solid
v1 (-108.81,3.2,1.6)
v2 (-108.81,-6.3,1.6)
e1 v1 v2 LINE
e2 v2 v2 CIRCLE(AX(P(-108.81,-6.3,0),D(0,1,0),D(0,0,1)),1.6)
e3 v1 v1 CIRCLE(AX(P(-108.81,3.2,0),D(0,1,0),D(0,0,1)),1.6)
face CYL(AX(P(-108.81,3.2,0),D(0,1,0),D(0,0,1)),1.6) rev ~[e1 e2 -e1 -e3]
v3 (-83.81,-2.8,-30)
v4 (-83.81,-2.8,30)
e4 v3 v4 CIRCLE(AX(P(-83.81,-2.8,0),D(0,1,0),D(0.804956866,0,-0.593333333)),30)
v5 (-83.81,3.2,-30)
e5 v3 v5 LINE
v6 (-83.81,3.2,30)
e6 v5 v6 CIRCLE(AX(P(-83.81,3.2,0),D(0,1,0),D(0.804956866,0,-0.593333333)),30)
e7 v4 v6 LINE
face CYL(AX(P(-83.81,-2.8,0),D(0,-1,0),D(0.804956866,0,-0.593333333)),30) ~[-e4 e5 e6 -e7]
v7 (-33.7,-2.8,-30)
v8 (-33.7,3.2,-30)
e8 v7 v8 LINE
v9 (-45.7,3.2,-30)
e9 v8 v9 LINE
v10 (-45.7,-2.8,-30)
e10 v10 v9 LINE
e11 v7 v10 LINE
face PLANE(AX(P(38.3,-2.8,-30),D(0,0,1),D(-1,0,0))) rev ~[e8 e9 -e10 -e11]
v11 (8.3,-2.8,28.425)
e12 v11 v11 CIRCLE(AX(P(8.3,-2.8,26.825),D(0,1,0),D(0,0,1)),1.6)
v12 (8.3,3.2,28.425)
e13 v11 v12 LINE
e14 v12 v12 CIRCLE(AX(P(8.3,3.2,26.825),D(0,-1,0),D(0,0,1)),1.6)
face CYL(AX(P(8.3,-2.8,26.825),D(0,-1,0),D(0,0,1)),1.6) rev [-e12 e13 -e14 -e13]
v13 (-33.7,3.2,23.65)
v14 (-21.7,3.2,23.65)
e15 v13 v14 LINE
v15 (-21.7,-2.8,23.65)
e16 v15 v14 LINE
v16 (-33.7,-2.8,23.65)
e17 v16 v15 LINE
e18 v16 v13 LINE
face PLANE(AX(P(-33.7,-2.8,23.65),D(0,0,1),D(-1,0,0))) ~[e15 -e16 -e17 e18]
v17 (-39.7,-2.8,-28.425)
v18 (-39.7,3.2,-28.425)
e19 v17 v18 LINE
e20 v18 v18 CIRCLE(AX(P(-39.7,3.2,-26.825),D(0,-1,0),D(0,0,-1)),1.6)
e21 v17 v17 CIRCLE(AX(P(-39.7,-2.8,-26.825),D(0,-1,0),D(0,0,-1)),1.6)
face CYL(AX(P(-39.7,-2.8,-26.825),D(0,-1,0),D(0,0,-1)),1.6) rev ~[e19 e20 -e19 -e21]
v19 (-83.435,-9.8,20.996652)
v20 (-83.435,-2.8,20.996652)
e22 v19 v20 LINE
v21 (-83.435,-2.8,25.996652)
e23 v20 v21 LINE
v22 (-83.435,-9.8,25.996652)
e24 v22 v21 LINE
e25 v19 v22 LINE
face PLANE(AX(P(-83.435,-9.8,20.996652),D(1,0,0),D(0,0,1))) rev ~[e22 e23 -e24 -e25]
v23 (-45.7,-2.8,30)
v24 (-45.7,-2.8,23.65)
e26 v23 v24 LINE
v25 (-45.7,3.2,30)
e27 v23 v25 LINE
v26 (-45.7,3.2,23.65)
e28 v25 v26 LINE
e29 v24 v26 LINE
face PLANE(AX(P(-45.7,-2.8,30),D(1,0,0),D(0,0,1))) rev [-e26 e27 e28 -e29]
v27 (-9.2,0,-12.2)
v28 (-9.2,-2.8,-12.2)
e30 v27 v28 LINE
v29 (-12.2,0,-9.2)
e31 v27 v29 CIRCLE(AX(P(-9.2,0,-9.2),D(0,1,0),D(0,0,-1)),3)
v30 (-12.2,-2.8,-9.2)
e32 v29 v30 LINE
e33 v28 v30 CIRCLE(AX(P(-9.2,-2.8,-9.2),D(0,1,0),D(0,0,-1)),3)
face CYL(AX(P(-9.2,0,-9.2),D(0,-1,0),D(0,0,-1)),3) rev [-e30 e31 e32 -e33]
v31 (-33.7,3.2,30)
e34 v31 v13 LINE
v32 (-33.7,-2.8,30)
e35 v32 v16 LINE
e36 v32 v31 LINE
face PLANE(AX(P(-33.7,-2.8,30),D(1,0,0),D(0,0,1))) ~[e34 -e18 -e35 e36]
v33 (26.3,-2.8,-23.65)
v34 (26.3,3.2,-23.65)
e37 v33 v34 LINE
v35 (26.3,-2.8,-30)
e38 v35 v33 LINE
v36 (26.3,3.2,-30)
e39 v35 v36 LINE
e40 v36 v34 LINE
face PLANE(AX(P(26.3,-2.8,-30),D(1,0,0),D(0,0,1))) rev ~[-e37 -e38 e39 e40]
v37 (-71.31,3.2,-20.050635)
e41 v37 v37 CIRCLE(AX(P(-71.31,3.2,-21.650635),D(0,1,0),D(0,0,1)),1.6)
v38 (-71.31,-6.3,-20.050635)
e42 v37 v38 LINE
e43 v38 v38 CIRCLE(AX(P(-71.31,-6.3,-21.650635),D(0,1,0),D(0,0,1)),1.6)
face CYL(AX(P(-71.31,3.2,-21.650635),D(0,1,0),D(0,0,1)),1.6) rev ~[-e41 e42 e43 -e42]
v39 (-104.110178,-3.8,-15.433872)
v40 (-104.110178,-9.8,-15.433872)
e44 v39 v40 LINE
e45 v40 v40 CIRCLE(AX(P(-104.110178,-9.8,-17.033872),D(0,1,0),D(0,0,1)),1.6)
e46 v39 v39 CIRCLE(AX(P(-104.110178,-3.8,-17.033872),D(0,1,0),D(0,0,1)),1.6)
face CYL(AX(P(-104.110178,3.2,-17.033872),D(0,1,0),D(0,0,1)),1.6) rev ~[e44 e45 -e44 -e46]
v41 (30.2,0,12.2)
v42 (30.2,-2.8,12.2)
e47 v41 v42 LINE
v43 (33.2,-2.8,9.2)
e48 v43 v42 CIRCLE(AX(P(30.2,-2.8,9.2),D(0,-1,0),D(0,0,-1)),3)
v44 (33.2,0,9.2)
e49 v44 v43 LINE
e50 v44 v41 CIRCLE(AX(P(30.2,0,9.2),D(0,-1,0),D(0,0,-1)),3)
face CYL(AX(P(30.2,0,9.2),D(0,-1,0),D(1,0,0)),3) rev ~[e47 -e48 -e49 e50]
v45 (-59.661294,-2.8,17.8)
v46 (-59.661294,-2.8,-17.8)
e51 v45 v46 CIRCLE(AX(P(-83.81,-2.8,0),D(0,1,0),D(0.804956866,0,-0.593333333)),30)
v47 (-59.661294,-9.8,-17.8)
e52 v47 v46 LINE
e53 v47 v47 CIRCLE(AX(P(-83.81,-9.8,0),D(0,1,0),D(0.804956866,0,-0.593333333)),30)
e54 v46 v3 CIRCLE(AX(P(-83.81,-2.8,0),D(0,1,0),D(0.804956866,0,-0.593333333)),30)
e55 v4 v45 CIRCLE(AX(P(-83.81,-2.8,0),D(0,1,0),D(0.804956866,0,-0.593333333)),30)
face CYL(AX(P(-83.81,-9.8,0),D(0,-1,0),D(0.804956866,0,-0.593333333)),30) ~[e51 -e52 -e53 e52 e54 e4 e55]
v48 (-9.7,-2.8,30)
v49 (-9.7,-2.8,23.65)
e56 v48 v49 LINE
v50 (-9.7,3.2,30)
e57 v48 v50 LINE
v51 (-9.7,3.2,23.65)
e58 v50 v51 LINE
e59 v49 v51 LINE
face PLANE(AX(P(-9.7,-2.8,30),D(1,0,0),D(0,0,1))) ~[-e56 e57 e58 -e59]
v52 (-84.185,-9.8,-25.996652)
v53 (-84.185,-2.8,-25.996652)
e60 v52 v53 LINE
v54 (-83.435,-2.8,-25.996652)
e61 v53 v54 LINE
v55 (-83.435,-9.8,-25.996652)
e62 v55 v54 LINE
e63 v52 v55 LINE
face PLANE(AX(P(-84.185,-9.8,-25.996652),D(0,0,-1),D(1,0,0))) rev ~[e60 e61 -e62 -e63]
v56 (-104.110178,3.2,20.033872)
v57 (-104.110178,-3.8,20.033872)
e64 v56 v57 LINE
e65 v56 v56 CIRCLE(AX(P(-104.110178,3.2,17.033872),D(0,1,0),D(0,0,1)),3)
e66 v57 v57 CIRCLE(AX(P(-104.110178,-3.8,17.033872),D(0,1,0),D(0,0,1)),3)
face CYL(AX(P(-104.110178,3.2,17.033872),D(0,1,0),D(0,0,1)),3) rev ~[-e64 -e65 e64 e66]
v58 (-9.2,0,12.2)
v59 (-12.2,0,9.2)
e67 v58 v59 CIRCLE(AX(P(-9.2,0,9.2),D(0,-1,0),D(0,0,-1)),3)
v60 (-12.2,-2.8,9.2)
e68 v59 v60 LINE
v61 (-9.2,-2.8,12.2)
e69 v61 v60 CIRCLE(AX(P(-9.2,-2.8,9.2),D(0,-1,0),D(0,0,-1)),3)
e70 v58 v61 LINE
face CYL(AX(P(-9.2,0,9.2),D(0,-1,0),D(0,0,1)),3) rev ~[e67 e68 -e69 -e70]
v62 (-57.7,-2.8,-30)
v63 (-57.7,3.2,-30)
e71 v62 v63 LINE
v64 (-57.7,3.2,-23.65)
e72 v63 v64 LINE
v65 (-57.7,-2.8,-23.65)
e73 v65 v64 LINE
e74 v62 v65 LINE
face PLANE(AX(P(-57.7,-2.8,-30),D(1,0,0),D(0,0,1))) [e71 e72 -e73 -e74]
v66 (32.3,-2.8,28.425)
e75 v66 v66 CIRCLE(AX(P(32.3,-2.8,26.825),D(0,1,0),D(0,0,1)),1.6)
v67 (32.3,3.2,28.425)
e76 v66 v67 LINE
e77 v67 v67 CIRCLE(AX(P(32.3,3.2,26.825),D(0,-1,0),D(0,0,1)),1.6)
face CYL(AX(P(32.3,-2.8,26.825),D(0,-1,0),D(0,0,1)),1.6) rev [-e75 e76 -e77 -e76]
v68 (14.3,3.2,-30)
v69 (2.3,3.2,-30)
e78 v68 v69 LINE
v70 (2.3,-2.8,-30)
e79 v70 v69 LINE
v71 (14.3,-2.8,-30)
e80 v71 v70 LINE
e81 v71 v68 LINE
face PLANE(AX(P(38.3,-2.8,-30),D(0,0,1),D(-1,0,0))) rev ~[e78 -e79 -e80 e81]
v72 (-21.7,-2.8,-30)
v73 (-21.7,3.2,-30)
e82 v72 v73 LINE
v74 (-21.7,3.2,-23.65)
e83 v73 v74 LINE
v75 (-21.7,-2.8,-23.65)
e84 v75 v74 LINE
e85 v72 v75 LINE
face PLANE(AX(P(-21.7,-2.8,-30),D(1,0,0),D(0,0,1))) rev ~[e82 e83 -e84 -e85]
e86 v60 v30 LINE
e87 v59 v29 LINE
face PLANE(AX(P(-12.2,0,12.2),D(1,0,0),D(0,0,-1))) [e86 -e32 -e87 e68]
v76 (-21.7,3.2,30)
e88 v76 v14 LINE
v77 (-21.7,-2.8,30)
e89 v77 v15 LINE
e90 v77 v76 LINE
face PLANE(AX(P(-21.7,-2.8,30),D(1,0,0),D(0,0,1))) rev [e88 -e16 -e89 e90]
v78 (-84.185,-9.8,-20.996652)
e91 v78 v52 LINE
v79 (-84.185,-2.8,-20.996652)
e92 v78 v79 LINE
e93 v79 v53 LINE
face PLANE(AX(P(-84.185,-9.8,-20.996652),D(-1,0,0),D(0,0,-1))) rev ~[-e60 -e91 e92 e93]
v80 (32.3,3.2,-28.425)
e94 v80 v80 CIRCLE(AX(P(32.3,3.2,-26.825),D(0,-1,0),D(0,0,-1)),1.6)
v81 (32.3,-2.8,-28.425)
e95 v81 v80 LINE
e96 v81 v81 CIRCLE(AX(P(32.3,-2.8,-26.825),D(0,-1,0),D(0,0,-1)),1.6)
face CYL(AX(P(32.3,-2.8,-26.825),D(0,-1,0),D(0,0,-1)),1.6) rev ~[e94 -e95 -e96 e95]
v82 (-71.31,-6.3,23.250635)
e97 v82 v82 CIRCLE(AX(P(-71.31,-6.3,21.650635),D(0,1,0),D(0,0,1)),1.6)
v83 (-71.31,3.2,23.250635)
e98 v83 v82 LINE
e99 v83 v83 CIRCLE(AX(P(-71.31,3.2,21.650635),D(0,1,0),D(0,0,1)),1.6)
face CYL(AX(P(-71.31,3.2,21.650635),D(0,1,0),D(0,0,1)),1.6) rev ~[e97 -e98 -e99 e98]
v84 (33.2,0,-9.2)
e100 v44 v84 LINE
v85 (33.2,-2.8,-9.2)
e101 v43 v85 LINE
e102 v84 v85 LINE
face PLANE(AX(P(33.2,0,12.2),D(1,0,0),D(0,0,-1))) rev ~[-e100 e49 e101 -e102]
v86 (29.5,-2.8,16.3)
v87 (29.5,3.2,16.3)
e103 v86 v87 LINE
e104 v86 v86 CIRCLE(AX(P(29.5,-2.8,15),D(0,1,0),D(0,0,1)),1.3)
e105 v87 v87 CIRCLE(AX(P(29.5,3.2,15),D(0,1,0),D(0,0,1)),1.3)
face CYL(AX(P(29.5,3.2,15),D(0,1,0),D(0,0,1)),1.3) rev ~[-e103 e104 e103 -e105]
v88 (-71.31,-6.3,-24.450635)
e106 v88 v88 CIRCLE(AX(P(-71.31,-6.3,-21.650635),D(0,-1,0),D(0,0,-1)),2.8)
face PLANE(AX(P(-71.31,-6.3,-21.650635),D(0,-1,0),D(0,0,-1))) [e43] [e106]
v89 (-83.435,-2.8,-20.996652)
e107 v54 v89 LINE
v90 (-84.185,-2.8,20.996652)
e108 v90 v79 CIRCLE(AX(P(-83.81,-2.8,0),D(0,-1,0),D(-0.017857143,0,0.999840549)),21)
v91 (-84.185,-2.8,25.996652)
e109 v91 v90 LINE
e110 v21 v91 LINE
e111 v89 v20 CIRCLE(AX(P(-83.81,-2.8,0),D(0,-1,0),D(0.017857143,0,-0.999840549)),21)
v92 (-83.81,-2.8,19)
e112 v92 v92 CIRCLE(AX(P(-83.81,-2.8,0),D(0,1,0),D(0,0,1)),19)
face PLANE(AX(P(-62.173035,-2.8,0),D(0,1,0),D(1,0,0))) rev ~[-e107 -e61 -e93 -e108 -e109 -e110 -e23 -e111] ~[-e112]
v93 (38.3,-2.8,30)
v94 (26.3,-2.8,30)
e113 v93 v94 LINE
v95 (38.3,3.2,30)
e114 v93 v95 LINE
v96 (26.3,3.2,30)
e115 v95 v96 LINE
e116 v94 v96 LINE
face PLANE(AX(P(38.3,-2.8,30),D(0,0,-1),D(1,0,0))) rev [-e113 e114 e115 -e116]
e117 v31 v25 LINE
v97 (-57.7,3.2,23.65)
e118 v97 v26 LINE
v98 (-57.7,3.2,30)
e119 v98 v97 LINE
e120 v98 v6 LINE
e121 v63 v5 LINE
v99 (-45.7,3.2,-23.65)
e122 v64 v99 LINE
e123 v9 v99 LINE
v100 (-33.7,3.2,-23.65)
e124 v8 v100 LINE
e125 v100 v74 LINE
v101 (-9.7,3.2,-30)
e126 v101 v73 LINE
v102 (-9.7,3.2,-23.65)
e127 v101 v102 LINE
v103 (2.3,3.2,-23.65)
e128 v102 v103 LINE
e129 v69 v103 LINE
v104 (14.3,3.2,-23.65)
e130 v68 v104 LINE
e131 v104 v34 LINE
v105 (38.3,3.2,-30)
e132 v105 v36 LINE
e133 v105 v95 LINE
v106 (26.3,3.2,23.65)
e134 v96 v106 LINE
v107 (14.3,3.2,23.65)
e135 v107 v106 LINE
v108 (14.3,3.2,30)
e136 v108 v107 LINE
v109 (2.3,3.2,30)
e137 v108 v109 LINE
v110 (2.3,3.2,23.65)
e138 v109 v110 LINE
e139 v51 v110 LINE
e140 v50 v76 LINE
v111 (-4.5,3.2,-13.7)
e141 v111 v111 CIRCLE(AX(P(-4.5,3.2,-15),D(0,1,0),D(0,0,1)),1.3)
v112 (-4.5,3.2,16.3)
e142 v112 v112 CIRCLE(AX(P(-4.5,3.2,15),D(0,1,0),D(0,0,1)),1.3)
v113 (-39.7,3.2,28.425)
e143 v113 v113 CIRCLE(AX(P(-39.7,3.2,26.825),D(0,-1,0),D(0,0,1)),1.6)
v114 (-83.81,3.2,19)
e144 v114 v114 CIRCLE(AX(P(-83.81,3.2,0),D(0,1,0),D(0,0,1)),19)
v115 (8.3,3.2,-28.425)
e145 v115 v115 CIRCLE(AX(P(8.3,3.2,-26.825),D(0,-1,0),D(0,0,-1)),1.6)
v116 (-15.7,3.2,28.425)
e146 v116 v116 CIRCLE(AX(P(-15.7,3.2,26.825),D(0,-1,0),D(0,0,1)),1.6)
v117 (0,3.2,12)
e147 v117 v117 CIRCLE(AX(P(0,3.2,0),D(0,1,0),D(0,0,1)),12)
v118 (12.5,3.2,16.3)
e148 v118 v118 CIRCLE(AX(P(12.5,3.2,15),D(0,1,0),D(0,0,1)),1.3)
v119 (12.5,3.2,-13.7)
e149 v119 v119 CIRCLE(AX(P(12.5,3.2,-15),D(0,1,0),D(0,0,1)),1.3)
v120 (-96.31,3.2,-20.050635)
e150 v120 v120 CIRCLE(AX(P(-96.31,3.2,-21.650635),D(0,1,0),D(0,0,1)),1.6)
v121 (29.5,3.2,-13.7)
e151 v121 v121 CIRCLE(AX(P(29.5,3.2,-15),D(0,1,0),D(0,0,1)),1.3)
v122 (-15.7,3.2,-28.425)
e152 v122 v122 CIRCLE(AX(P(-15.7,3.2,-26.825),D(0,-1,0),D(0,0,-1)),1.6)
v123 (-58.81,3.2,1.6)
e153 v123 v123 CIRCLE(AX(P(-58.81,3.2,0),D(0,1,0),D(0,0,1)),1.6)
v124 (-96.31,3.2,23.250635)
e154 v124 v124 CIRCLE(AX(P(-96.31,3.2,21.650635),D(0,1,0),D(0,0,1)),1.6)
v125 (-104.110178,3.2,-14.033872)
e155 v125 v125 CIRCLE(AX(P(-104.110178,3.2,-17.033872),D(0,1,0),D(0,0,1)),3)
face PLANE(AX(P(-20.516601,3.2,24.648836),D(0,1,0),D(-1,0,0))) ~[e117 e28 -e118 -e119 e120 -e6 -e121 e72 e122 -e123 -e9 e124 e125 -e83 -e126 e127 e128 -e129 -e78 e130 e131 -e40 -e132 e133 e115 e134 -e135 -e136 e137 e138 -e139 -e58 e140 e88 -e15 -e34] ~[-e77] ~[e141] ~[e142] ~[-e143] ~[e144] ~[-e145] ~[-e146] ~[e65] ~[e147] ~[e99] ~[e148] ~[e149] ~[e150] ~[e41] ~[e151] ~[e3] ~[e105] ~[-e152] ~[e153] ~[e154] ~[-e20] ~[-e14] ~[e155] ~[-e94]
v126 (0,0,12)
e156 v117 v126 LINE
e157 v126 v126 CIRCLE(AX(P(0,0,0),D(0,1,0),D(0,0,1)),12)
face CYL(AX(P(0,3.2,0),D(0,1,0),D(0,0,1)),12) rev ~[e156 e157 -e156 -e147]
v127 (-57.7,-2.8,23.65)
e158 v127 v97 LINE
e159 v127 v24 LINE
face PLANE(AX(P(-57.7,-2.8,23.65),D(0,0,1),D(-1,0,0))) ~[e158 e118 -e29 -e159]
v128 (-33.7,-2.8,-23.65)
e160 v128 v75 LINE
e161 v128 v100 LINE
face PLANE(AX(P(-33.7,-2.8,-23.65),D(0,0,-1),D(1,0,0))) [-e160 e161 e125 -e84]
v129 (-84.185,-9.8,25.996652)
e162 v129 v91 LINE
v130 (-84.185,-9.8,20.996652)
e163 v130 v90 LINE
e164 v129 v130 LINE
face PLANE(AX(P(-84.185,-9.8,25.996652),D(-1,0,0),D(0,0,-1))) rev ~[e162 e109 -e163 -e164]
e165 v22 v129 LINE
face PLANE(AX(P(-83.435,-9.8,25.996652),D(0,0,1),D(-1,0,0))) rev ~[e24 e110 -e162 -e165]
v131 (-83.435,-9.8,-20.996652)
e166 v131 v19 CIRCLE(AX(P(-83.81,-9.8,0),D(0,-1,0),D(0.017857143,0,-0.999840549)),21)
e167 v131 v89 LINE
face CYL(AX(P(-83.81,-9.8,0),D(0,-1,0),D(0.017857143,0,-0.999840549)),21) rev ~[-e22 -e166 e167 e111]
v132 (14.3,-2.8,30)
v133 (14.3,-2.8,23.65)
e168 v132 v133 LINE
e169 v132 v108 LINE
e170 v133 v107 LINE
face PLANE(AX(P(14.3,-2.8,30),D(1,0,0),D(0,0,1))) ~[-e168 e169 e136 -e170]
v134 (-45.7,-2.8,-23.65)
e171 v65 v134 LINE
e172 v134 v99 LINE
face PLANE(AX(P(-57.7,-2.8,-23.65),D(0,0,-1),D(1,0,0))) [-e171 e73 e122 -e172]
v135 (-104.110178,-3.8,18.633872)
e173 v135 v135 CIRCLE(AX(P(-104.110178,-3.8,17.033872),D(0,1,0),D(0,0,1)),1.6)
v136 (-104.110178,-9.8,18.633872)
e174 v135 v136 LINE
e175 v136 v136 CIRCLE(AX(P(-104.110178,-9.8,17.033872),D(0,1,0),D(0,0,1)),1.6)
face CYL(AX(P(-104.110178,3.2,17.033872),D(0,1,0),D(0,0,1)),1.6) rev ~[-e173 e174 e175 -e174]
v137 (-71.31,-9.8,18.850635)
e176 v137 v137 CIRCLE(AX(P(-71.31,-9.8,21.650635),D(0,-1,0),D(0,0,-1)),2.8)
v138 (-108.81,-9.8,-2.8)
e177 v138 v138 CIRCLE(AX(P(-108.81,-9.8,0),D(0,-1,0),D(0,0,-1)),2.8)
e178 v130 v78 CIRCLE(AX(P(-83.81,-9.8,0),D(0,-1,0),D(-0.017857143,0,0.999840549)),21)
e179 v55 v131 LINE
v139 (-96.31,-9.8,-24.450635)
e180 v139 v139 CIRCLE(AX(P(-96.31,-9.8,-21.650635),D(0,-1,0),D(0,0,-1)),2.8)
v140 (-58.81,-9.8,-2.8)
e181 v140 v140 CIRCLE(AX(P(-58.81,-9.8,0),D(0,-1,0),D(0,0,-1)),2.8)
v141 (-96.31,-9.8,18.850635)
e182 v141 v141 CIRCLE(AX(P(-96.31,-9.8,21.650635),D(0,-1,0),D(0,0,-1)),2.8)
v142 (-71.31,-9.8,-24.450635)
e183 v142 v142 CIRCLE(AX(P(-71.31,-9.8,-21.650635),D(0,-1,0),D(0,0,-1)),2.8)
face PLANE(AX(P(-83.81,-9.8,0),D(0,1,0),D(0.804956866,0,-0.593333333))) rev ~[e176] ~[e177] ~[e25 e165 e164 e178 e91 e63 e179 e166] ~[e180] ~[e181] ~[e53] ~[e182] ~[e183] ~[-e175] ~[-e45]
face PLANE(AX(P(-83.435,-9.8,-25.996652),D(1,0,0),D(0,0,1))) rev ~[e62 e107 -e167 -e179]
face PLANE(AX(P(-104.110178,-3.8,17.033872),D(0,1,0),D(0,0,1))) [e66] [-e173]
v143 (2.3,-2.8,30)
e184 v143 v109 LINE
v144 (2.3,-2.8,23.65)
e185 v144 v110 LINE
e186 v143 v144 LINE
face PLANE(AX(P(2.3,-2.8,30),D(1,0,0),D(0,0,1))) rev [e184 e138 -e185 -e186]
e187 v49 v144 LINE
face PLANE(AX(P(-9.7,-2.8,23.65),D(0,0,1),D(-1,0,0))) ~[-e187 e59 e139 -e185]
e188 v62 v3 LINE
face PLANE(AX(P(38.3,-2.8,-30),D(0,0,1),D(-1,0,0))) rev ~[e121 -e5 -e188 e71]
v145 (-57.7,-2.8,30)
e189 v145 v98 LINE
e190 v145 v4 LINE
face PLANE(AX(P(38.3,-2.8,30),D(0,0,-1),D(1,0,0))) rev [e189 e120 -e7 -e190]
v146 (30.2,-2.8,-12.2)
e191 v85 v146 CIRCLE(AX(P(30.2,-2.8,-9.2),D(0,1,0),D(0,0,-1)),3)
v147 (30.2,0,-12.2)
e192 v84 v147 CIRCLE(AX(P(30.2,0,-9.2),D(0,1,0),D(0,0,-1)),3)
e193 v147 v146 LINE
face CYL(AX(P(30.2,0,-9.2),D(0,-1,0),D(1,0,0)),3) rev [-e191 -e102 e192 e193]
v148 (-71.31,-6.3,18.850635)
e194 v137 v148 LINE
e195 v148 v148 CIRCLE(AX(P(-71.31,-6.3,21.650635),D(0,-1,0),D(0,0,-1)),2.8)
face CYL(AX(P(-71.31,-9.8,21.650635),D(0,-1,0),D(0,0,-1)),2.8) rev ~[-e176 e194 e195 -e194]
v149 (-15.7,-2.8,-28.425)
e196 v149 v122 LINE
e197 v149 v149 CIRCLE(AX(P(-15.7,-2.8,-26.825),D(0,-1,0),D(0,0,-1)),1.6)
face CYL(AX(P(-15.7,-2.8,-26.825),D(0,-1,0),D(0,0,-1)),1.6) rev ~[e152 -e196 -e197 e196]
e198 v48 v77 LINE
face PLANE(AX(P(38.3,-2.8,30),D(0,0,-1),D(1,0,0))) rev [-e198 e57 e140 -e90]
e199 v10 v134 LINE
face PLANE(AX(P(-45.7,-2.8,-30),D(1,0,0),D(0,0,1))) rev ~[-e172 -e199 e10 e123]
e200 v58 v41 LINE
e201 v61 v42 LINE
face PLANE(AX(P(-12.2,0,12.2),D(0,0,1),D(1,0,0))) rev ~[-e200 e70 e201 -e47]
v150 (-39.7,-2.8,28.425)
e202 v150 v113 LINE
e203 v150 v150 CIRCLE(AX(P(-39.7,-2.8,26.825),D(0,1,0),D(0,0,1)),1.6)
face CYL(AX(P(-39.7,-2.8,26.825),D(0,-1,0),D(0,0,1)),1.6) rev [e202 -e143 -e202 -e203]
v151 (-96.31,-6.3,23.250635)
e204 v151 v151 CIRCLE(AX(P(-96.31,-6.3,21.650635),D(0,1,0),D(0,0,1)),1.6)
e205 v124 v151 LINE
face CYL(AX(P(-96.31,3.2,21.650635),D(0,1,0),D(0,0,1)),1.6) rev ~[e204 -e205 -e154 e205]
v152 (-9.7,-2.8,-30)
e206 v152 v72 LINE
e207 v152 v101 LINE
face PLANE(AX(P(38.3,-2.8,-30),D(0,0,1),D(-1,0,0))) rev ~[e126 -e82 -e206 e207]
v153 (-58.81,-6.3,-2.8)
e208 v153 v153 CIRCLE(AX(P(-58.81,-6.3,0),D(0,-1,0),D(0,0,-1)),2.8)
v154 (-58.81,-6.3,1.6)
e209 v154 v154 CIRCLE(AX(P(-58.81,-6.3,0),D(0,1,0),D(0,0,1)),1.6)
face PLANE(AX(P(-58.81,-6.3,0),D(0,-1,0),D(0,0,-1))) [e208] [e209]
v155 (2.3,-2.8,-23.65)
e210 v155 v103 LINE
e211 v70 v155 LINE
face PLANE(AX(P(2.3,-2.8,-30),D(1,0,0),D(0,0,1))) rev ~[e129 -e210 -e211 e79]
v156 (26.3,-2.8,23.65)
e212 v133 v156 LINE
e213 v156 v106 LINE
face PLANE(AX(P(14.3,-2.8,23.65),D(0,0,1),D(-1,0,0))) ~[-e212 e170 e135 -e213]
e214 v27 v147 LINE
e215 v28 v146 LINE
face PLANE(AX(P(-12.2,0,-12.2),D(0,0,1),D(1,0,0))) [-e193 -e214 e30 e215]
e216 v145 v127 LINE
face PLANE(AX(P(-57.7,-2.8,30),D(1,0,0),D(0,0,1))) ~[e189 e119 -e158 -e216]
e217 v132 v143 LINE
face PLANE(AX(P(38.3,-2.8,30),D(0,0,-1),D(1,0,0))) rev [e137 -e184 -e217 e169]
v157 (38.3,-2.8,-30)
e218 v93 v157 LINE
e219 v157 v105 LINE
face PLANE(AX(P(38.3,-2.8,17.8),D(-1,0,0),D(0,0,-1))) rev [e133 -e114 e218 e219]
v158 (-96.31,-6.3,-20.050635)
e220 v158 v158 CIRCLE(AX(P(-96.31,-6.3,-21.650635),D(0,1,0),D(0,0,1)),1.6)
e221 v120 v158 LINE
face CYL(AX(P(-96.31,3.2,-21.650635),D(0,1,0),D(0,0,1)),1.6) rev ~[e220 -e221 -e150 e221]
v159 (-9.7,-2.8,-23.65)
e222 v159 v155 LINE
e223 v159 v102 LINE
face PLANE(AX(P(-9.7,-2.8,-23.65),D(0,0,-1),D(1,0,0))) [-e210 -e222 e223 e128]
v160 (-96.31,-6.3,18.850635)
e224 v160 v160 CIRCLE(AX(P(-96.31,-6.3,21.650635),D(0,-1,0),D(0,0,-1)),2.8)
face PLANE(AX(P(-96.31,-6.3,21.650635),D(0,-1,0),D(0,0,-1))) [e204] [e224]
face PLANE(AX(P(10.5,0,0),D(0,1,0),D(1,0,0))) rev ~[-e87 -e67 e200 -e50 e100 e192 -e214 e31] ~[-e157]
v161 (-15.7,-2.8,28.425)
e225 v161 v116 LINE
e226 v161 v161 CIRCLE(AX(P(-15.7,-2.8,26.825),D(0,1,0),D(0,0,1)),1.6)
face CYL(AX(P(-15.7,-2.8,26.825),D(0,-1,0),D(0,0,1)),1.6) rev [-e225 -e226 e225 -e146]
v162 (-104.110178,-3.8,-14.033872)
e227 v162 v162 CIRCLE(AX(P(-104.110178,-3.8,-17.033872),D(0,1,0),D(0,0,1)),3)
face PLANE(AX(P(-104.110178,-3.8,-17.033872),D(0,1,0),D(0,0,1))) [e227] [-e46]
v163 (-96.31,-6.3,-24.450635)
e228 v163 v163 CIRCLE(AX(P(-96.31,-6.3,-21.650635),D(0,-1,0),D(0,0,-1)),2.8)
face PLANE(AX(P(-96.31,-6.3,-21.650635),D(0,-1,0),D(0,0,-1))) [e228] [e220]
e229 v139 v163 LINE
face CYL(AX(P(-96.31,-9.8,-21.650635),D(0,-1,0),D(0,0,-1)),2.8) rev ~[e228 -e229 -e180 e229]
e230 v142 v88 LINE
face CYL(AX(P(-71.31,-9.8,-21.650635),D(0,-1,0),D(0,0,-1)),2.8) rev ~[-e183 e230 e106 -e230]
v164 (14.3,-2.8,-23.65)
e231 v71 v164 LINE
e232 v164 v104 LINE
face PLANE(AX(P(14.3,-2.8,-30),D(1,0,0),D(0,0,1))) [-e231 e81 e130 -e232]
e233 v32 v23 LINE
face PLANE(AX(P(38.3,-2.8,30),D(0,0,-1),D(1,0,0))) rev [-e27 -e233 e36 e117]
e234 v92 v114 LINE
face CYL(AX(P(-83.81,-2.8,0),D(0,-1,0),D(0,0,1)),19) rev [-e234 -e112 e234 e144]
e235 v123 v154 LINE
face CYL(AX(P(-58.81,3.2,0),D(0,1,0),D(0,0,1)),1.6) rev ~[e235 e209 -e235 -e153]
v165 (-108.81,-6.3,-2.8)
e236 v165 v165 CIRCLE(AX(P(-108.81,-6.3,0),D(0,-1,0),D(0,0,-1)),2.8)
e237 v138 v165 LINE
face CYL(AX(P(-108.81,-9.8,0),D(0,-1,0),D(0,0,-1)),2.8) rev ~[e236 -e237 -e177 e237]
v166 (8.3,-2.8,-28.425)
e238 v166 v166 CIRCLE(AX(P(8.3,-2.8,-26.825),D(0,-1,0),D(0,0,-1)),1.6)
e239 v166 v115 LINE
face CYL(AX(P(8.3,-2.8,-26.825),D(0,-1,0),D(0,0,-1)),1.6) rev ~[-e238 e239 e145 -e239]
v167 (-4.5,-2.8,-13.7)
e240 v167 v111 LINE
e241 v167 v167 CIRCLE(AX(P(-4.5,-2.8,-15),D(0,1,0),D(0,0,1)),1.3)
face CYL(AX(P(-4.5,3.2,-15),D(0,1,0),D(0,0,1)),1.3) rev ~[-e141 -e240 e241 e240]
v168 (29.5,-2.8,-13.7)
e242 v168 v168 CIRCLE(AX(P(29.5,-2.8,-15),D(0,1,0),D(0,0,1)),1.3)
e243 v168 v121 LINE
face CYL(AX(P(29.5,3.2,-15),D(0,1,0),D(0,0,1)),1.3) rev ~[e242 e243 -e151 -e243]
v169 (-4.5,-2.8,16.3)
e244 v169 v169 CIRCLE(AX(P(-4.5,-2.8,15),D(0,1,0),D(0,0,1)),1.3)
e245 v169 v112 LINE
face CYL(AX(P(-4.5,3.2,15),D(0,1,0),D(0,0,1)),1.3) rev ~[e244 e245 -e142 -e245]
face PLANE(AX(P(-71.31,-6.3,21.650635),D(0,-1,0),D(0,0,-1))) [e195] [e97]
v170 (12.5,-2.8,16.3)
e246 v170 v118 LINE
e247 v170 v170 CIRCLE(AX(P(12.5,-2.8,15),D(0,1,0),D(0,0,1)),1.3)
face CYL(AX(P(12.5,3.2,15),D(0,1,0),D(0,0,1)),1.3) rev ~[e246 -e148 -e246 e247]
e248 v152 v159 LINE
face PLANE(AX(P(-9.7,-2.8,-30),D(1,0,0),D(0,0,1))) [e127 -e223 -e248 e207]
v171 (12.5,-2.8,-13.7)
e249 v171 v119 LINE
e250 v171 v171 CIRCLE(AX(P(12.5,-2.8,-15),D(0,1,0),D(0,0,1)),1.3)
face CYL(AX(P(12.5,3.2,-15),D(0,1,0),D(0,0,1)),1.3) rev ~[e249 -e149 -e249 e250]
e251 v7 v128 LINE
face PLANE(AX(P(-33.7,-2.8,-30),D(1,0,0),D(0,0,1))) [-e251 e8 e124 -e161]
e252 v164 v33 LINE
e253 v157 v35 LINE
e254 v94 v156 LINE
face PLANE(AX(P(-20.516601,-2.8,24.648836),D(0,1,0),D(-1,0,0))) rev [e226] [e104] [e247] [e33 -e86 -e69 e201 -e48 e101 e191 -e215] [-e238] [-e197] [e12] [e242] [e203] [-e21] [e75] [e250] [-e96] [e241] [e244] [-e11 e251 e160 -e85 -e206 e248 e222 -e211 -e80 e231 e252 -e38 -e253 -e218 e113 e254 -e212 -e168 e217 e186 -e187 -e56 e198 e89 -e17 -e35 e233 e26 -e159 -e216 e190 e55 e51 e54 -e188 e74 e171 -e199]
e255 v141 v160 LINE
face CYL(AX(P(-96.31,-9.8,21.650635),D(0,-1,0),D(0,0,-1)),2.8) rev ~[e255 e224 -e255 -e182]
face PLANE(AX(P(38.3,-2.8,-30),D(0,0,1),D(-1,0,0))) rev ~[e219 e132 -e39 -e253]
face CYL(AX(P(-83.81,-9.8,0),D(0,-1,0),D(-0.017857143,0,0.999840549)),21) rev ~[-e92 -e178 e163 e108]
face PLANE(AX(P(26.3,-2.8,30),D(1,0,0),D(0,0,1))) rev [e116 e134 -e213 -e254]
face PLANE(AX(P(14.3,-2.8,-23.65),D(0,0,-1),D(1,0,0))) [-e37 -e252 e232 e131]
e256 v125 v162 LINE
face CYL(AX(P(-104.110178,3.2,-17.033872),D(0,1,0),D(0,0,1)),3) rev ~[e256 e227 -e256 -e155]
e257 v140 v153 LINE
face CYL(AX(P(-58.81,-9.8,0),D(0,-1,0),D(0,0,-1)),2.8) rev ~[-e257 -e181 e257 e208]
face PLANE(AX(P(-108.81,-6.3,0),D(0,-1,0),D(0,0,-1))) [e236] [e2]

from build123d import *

# Parameters (mm, degrees)
SKETCH1_W           = 55.6
SKETCH1_H           = 35.6
SKETCH1_R           = 1.3
SKETCH1_W_2         = 45.4
SKETCH1_H_2         = 24.4
BOSS_EXTRUDE1_DEPTH = 2.8
BOSS_EXTRUDE2_START = 3.2
SKETCH1_5_W         = 55.6
SKETCH1_5_H         = 35.6
SKETCH1_5_R         = 1.3
SKETCH1_5_W_2       = 45.4
SKETCH1_5_H_2       = 24.4
SKETCH1_5_R_2       = 12
BOSS_EXTRUDE2_DEPTH = 3.2
FILLET1_R           = 3
BOSS_EXTRUDE3_START = -2.8
SKETCH2_R           = 19
BOSS_EXTRUDE3_DEPTH = 6
BOSS_EXTRUDE4_START = -7
SKETCH3_R           = 30
BOSS_EXTRUDE4_DEPTH = 7
SKETCH4_R           = 1.6
CUT_EXTRUDE1_DEPTH  = 119.413327375
SKETCH5_R           = 2.8
CUT_EXTRUDE2_DEPTH  = 3.5
BOSS_EXTRUDE5_START = -6
BOSS_EXTRUDE5_DEPTH = 6
SKETCH7_W           = 12
SKETCH7_H           = 6.35
CUT_EXTRUDE3_DEPTH  = 118.905538886
SKETCH8_R           = 1.6
CUT_EXTRUDE4_DEPTH  = 118.905538886
SKETCH9_R           = 1.6
CUT_EXTRUDE5_DEPTH  = 119.413327375
SKETCH10_R          = 3
CUT_EXTRUDE7_DEPTH  = 7


with BuildPart() as part:
    # Sketch1 → Boss-Extrude1 (new body)
    with BuildSketch(Plane(origin=(0, 0, 0), x_dir=(1, 0, 0), z_dir=(0, 1, 0))):
        with Locations((10.5, 0)):
            Rectangle(SKETCH1_W, SKETCH1_H)
        with Locations(Location((12.5, -15, 0), (0, 0, 270))):
            Circle(SKETCH1_R, mode=Mode.SUBTRACT)
        with Locations(Location((-4.5, 15, 0), (0, 0, 270))):
            Circle(SKETCH1_R, mode=Mode.SUBTRACT)
        with Locations(Location((12.5, 15, 0), (0, 0, 270))):
            Circle(SKETCH1_R, mode=Mode.SUBTRACT)
        with Locations(Location((29.5, 15, 0), (0, 0, 270))):
            Circle(SKETCH1_R, mode=Mode.SUBTRACT)
        with Locations(Location((29.5, -15, 0), (0, 0, 270))):
            Circle(SKETCH1_R, mode=Mode.SUBTRACT)
        with Locations(Location((-4.5, -15, 0), (0, 0, 270))):
            Circle(SKETCH1_R, mode=Mode.SUBTRACT)
        with Locations((10.5, 0)):
            Rectangle(SKETCH1_W_2, SKETCH1_H_2, mode=Mode.SUBTRACT)
    extrude(amount=-BOSS_EXTRUDE1_DEPTH)

    # Sketch1<5> → Boss-Extrude2 (add)
    # profile 1 of 2: a face of its own
    with BuildSketch(Plane(origin=(0, 0, 0), x_dir=(1, 0, 0), z_dir=(0, 1, 0)).offset(BOSS_EXTRUDE2_START)):
        with Locations((10.5, 0)):
            Rectangle(SKETCH1_5_W, SKETCH1_5_H)
        with Locations(Location((12.5, -15, 0), (0, 0, 270))):
            Circle(SKETCH1_5_R, mode=Mode.SUBTRACT)
        with Locations(Location((-4.5, 15, 0), (0, 0, 270))):
            Circle(SKETCH1_5_R, mode=Mode.SUBTRACT)
        with Locations(Location((12.5, 15, 0), (0, 0, 270))):
            Circle(SKETCH1_5_R, mode=Mode.SUBTRACT)
        with Locations(Location((29.5, 15, 0), (0, 0, 270))):
            Circle(SKETCH1_5_R, mode=Mode.SUBTRACT)
        with Locations(Location((29.5, -15, 0), (0, 0, 270))):
            Circle(SKETCH1_5_R, mode=Mode.SUBTRACT)
        with Locations(Location((-4.5, -15, 0), (0, 0, 270))):
            Circle(SKETCH1_5_R, mode=Mode.SUBTRACT)
        with Locations((10.5, 0)):
            Rectangle(SKETCH1_5_W_2, SKETCH1_5_H_2, mode=Mode.SUBTRACT)
    # profile 2 of 2: a face of its own
    with BuildSketch(Plane(origin=(0, 0, 0), x_dir=(1, 0, 0), z_dir=(0, 1, 0)).offset(BOSS_EXTRUDE2_START)):
        with Locations((10.5, 0)):
            Rectangle(SKETCH1_5_W_2, SKETCH1_5_H_2)
        with Locations(Location((0, 0, 0), (0, 0, 270))):
            Circle(SKETCH1_5_R_2, mode=Mode.SUBTRACT)
    extrude(amount=-BOSS_EXTRUDE2_DEPTH)

    # Fillet1
    fillet1_edges = [part.edges().sort_by_distance(p)[0] for p in [
        (-12.2, -1.4, -12.2),
        (-12.2, -1.4, 12.2),
        (33.2, -1.4, 12.2),
        (33.2, -1.4, -12.2),
    ]]
    fillet(fillet1_edges, radius=FILLET1_R)

    # Sketch2 → Boss-Extrude3 (add)
    with BuildSketch(Plane(origin=(0, 0, 0), x_dir=(1, 0, 0), z_dir=(0, 1, 0)).offset(BOSS_EXTRUDE3_START)):
        with BuildLine():
            Line((-17.3, 17.8), (-59.661294031, 17.8))
            ThreePointArc((-59.661294031, 17.8), (-113.81, 0), (-59.661294031, -17.8))
            Line((-59.661294031, -17.8), (-17.3, -17.8))
            Line((-17.3, -17.8), (-17.3, 17.8))
        make_face()
        with Locations(Location((-83.81, 0, 0), (0, 0, 270))):
            Circle(SKETCH2_R, mode=Mode.SUBTRACT)
    extrude(amount=BOSS_EXTRUDE3_DEPTH)

    # Sketch3 → Boss-Extrude4 (add)
    with BuildSketch(Plane(origin=(0, -2.8, 0), x_dir=(1, 0, 0), z_dir=(0, 1, 0)).offset(BOSS_EXTRUDE4_START)):
        with Locations(Location((-83.81, 0, 0), (0, 0, 36.393910191))):
            Circle(SKETCH3_R)
        with BuildLine():
            Line((-84.185, 20.996651519), (-84.185, 25.996651519))
            Line((-84.185, 25.996651519), (-83.435, 25.996651519))
            Line((-83.435, 25.996651519), (-83.435, 20.996651519))
            ThreePointArc((-83.435, 20.996651519), (-62.81, 0), (-83.435, -20.996651519))
            Line((-83.435, -20.996651519), (-83.435, -25.996651519))
            Line((-83.435, -25.996651519), (-84.185, -25.996651519))
            Line((-84.185, -25.996651519), (-84.185, -20.996651519))
            ThreePointArc((-84.185, -20.996651519), (-104.81, 0), (-84.185, 20.996651519))
        make_face(mode=Mode.SUBTRACT)
    extrude(amount=BOSS_EXTRUDE4_DEPTH)

    # Sketch4 → Cut-Extrude1 (cut, through all)
    with BuildSketch(Plane(origin=(0, 3.2, 0), x_dir=(1, 0, 0), z_dir=(0, 1, 0))):
        with Locations(Location((-58.81, 0, 0), (0, 0, 270))):
            Circle(SKETCH4_R)
        with Locations(Location((-71.31, -21.650635095, 0), (0, 0, 270))):
            Circle(SKETCH4_R)
        with Locations(Location((-96.31, -21.650635095, 0), (0, 0, 270))):
            Circle(SKETCH4_R)
        with Locations(Location((-108.81, 0, 0), (0, 0, 270))):
            Circle(SKETCH4_R)
        with Locations(Location((-96.31, 21.650635095, 0), (0, 0, 270))):
            Circle(SKETCH4_R)
        with Locations(Location((-71.31, 21.650635095, 0), (0, 0, 270))):
            Circle(SKETCH4_R)
    extrude(amount=-CUT_EXTRUDE1_DEPTH, mode=Mode.SUBTRACT)

    # Sketch5 → Cut-Extrude2 (cut)
    with BuildSketch(Plane(origin=(0, -9.8, 0), x_dir=(-1, 0, 0), z_dir=(0, -1, 0))):
        with Locations(Location((96.31, 21.650635095, 0), (0, 0, 90))):
            Circle(SKETCH5_R)
        with Locations(Location((108.81, 0, 0), (0, 0, 90))):
            Circle(SKETCH5_R)
        with Locations(Location((96.31, -21.650635095, 0), (0, 0, 90))):
            Circle(SKETCH5_R)
        with Locations(Location((71.31, -21.650635095, 0), (0, 0, 90))):
            Circle(SKETCH5_R)
        with Locations(Location((58.81, 0, 0), (0, 0, 90))):
            Circle(SKETCH5_R)
        with Locations(Location((71.31, 21.650635095, 0), (0, 0, 90))):
            Circle(SKETCH5_R)
    extrude(amount=-CUT_EXTRUDE2_DEPTH, mode=Mode.SUBTRACT)

    # Sketch6 → Boss-Extrude5 (add)
    with BuildSketch(Plane(origin=(0, 3.2, 0), x_dir=(1, 0, 0), z_dir=(0, 1, 0)).offset(BOSS_EXTRUDE5_START)):
        with BuildLine():
            Line((38.3, 17.8), (38.3, 30))
            Line((38.3, 30), (-83.81, 30))
            ThreePointArc((-83.81, 30), (-70.282250742, 26.776855678), (-59.661294031, 17.8))
            Line((-59.661294031, 17.8), (38.3, 17.8))
        make_face()
    boss_extrude5 = extrude(amount=BOSS_EXTRUDE5_DEPTH)

    # Mirror1: Boss-Extrude5 across plane
    add(boss_extrude5.mirror(Plane.XY))

    # Sketch7 → Cut-Extrude3 (cut, through all)
    with BuildSketch(Plane.XZ.offset(2.8)):
        with Locations((20.3, -26.825)):
            Rectangle(SKETCH7_W, SKETCH7_H)
        with Locations((-3.7, -26.825)):
            Rectangle(SKETCH7_W, SKETCH7_H)
        with Locations((-27.7, -26.825)):
            Rectangle(SKETCH7_W, SKETCH7_H)
        with Locations((-51.7, -26.825)):
            Rectangle(SKETCH7_W, SKETCH7_H)
    cut_extrude3 = extrude(amount=-CUT_EXTRUDE3_DEPTH, mode=Mode.SUBTRACT)

    # Mirror2: Cut-Extrude3 across plane
    add(cut_extrude3.mirror(Plane.XY), mode=Mode.SUBTRACT)

    # Sketch8 → Cut-Extrude4 (cut, through all)
    with BuildSketch(Plane.XZ.offset(2.8)):
        with Locations(Location((-39.7, -26.825, 0), (0, 0, 270))):
            Circle(SKETCH8_R)
        with Locations(Location((-15.7, -26.825, 0), (0, 0, 270))):
            Circle(SKETCH8_R)
        with Locations(Location((8.3, -26.825, 0), (0, 0, 270))):
            Circle(SKETCH8_R)
        with Locations(Location((32.3, -26.825, 0), (0, 0, 270))):
            Circle(SKETCH8_R)
    cut_extrude4 = extrude(amount=-CUT_EXTRUDE4_DEPTH, mode=Mode.SUBTRACT)

    # Mirror3: Cut-Extrude4 across plane
    add(cut_extrude4.mirror(Plane.XY), mode=Mode.SUBTRACT)

    # Sketch9 → Cut-Extrude5 (cut, through all)
    with BuildSketch(Plane(origin=(0, 3.2, 0), x_dir=(1, 0, 0), z_dir=(0, 1, 0))):
        with Locations(Location((-104.110177743, -17.033871657, 0), (0, 0, 270))):
            Circle(SKETCH9_R)
        with Locations(Location((-104.110177743, 17.033871657, 0), (0, 0, 270))):
            Circle(SKETCH9_R)
    extrude(amount=-CUT_EXTRUDE5_DEPTH, mode=Mode.SUBTRACT)

    # Sketch10 → Cut-Extrude7 (cut)
    with BuildSketch(Plane(origin=(0, 3.2, 0), x_dir=(1, 0, 0), z_dir=(0, 1, 0))):
        with Locations(Location((-104.110177743, 17.033871657, 0), (0, 0, 270))):
            Circle(SKETCH10_R)
        with Locations(Location((-104.110177743, -17.033871657, 0), (0, 0, 270))):
            Circle(SKETCH10_R)
    extrude(amount=-CUT_EXTRUDE7_DEPTH, mode=Mode.SUBTRACT)


solid = part.part
